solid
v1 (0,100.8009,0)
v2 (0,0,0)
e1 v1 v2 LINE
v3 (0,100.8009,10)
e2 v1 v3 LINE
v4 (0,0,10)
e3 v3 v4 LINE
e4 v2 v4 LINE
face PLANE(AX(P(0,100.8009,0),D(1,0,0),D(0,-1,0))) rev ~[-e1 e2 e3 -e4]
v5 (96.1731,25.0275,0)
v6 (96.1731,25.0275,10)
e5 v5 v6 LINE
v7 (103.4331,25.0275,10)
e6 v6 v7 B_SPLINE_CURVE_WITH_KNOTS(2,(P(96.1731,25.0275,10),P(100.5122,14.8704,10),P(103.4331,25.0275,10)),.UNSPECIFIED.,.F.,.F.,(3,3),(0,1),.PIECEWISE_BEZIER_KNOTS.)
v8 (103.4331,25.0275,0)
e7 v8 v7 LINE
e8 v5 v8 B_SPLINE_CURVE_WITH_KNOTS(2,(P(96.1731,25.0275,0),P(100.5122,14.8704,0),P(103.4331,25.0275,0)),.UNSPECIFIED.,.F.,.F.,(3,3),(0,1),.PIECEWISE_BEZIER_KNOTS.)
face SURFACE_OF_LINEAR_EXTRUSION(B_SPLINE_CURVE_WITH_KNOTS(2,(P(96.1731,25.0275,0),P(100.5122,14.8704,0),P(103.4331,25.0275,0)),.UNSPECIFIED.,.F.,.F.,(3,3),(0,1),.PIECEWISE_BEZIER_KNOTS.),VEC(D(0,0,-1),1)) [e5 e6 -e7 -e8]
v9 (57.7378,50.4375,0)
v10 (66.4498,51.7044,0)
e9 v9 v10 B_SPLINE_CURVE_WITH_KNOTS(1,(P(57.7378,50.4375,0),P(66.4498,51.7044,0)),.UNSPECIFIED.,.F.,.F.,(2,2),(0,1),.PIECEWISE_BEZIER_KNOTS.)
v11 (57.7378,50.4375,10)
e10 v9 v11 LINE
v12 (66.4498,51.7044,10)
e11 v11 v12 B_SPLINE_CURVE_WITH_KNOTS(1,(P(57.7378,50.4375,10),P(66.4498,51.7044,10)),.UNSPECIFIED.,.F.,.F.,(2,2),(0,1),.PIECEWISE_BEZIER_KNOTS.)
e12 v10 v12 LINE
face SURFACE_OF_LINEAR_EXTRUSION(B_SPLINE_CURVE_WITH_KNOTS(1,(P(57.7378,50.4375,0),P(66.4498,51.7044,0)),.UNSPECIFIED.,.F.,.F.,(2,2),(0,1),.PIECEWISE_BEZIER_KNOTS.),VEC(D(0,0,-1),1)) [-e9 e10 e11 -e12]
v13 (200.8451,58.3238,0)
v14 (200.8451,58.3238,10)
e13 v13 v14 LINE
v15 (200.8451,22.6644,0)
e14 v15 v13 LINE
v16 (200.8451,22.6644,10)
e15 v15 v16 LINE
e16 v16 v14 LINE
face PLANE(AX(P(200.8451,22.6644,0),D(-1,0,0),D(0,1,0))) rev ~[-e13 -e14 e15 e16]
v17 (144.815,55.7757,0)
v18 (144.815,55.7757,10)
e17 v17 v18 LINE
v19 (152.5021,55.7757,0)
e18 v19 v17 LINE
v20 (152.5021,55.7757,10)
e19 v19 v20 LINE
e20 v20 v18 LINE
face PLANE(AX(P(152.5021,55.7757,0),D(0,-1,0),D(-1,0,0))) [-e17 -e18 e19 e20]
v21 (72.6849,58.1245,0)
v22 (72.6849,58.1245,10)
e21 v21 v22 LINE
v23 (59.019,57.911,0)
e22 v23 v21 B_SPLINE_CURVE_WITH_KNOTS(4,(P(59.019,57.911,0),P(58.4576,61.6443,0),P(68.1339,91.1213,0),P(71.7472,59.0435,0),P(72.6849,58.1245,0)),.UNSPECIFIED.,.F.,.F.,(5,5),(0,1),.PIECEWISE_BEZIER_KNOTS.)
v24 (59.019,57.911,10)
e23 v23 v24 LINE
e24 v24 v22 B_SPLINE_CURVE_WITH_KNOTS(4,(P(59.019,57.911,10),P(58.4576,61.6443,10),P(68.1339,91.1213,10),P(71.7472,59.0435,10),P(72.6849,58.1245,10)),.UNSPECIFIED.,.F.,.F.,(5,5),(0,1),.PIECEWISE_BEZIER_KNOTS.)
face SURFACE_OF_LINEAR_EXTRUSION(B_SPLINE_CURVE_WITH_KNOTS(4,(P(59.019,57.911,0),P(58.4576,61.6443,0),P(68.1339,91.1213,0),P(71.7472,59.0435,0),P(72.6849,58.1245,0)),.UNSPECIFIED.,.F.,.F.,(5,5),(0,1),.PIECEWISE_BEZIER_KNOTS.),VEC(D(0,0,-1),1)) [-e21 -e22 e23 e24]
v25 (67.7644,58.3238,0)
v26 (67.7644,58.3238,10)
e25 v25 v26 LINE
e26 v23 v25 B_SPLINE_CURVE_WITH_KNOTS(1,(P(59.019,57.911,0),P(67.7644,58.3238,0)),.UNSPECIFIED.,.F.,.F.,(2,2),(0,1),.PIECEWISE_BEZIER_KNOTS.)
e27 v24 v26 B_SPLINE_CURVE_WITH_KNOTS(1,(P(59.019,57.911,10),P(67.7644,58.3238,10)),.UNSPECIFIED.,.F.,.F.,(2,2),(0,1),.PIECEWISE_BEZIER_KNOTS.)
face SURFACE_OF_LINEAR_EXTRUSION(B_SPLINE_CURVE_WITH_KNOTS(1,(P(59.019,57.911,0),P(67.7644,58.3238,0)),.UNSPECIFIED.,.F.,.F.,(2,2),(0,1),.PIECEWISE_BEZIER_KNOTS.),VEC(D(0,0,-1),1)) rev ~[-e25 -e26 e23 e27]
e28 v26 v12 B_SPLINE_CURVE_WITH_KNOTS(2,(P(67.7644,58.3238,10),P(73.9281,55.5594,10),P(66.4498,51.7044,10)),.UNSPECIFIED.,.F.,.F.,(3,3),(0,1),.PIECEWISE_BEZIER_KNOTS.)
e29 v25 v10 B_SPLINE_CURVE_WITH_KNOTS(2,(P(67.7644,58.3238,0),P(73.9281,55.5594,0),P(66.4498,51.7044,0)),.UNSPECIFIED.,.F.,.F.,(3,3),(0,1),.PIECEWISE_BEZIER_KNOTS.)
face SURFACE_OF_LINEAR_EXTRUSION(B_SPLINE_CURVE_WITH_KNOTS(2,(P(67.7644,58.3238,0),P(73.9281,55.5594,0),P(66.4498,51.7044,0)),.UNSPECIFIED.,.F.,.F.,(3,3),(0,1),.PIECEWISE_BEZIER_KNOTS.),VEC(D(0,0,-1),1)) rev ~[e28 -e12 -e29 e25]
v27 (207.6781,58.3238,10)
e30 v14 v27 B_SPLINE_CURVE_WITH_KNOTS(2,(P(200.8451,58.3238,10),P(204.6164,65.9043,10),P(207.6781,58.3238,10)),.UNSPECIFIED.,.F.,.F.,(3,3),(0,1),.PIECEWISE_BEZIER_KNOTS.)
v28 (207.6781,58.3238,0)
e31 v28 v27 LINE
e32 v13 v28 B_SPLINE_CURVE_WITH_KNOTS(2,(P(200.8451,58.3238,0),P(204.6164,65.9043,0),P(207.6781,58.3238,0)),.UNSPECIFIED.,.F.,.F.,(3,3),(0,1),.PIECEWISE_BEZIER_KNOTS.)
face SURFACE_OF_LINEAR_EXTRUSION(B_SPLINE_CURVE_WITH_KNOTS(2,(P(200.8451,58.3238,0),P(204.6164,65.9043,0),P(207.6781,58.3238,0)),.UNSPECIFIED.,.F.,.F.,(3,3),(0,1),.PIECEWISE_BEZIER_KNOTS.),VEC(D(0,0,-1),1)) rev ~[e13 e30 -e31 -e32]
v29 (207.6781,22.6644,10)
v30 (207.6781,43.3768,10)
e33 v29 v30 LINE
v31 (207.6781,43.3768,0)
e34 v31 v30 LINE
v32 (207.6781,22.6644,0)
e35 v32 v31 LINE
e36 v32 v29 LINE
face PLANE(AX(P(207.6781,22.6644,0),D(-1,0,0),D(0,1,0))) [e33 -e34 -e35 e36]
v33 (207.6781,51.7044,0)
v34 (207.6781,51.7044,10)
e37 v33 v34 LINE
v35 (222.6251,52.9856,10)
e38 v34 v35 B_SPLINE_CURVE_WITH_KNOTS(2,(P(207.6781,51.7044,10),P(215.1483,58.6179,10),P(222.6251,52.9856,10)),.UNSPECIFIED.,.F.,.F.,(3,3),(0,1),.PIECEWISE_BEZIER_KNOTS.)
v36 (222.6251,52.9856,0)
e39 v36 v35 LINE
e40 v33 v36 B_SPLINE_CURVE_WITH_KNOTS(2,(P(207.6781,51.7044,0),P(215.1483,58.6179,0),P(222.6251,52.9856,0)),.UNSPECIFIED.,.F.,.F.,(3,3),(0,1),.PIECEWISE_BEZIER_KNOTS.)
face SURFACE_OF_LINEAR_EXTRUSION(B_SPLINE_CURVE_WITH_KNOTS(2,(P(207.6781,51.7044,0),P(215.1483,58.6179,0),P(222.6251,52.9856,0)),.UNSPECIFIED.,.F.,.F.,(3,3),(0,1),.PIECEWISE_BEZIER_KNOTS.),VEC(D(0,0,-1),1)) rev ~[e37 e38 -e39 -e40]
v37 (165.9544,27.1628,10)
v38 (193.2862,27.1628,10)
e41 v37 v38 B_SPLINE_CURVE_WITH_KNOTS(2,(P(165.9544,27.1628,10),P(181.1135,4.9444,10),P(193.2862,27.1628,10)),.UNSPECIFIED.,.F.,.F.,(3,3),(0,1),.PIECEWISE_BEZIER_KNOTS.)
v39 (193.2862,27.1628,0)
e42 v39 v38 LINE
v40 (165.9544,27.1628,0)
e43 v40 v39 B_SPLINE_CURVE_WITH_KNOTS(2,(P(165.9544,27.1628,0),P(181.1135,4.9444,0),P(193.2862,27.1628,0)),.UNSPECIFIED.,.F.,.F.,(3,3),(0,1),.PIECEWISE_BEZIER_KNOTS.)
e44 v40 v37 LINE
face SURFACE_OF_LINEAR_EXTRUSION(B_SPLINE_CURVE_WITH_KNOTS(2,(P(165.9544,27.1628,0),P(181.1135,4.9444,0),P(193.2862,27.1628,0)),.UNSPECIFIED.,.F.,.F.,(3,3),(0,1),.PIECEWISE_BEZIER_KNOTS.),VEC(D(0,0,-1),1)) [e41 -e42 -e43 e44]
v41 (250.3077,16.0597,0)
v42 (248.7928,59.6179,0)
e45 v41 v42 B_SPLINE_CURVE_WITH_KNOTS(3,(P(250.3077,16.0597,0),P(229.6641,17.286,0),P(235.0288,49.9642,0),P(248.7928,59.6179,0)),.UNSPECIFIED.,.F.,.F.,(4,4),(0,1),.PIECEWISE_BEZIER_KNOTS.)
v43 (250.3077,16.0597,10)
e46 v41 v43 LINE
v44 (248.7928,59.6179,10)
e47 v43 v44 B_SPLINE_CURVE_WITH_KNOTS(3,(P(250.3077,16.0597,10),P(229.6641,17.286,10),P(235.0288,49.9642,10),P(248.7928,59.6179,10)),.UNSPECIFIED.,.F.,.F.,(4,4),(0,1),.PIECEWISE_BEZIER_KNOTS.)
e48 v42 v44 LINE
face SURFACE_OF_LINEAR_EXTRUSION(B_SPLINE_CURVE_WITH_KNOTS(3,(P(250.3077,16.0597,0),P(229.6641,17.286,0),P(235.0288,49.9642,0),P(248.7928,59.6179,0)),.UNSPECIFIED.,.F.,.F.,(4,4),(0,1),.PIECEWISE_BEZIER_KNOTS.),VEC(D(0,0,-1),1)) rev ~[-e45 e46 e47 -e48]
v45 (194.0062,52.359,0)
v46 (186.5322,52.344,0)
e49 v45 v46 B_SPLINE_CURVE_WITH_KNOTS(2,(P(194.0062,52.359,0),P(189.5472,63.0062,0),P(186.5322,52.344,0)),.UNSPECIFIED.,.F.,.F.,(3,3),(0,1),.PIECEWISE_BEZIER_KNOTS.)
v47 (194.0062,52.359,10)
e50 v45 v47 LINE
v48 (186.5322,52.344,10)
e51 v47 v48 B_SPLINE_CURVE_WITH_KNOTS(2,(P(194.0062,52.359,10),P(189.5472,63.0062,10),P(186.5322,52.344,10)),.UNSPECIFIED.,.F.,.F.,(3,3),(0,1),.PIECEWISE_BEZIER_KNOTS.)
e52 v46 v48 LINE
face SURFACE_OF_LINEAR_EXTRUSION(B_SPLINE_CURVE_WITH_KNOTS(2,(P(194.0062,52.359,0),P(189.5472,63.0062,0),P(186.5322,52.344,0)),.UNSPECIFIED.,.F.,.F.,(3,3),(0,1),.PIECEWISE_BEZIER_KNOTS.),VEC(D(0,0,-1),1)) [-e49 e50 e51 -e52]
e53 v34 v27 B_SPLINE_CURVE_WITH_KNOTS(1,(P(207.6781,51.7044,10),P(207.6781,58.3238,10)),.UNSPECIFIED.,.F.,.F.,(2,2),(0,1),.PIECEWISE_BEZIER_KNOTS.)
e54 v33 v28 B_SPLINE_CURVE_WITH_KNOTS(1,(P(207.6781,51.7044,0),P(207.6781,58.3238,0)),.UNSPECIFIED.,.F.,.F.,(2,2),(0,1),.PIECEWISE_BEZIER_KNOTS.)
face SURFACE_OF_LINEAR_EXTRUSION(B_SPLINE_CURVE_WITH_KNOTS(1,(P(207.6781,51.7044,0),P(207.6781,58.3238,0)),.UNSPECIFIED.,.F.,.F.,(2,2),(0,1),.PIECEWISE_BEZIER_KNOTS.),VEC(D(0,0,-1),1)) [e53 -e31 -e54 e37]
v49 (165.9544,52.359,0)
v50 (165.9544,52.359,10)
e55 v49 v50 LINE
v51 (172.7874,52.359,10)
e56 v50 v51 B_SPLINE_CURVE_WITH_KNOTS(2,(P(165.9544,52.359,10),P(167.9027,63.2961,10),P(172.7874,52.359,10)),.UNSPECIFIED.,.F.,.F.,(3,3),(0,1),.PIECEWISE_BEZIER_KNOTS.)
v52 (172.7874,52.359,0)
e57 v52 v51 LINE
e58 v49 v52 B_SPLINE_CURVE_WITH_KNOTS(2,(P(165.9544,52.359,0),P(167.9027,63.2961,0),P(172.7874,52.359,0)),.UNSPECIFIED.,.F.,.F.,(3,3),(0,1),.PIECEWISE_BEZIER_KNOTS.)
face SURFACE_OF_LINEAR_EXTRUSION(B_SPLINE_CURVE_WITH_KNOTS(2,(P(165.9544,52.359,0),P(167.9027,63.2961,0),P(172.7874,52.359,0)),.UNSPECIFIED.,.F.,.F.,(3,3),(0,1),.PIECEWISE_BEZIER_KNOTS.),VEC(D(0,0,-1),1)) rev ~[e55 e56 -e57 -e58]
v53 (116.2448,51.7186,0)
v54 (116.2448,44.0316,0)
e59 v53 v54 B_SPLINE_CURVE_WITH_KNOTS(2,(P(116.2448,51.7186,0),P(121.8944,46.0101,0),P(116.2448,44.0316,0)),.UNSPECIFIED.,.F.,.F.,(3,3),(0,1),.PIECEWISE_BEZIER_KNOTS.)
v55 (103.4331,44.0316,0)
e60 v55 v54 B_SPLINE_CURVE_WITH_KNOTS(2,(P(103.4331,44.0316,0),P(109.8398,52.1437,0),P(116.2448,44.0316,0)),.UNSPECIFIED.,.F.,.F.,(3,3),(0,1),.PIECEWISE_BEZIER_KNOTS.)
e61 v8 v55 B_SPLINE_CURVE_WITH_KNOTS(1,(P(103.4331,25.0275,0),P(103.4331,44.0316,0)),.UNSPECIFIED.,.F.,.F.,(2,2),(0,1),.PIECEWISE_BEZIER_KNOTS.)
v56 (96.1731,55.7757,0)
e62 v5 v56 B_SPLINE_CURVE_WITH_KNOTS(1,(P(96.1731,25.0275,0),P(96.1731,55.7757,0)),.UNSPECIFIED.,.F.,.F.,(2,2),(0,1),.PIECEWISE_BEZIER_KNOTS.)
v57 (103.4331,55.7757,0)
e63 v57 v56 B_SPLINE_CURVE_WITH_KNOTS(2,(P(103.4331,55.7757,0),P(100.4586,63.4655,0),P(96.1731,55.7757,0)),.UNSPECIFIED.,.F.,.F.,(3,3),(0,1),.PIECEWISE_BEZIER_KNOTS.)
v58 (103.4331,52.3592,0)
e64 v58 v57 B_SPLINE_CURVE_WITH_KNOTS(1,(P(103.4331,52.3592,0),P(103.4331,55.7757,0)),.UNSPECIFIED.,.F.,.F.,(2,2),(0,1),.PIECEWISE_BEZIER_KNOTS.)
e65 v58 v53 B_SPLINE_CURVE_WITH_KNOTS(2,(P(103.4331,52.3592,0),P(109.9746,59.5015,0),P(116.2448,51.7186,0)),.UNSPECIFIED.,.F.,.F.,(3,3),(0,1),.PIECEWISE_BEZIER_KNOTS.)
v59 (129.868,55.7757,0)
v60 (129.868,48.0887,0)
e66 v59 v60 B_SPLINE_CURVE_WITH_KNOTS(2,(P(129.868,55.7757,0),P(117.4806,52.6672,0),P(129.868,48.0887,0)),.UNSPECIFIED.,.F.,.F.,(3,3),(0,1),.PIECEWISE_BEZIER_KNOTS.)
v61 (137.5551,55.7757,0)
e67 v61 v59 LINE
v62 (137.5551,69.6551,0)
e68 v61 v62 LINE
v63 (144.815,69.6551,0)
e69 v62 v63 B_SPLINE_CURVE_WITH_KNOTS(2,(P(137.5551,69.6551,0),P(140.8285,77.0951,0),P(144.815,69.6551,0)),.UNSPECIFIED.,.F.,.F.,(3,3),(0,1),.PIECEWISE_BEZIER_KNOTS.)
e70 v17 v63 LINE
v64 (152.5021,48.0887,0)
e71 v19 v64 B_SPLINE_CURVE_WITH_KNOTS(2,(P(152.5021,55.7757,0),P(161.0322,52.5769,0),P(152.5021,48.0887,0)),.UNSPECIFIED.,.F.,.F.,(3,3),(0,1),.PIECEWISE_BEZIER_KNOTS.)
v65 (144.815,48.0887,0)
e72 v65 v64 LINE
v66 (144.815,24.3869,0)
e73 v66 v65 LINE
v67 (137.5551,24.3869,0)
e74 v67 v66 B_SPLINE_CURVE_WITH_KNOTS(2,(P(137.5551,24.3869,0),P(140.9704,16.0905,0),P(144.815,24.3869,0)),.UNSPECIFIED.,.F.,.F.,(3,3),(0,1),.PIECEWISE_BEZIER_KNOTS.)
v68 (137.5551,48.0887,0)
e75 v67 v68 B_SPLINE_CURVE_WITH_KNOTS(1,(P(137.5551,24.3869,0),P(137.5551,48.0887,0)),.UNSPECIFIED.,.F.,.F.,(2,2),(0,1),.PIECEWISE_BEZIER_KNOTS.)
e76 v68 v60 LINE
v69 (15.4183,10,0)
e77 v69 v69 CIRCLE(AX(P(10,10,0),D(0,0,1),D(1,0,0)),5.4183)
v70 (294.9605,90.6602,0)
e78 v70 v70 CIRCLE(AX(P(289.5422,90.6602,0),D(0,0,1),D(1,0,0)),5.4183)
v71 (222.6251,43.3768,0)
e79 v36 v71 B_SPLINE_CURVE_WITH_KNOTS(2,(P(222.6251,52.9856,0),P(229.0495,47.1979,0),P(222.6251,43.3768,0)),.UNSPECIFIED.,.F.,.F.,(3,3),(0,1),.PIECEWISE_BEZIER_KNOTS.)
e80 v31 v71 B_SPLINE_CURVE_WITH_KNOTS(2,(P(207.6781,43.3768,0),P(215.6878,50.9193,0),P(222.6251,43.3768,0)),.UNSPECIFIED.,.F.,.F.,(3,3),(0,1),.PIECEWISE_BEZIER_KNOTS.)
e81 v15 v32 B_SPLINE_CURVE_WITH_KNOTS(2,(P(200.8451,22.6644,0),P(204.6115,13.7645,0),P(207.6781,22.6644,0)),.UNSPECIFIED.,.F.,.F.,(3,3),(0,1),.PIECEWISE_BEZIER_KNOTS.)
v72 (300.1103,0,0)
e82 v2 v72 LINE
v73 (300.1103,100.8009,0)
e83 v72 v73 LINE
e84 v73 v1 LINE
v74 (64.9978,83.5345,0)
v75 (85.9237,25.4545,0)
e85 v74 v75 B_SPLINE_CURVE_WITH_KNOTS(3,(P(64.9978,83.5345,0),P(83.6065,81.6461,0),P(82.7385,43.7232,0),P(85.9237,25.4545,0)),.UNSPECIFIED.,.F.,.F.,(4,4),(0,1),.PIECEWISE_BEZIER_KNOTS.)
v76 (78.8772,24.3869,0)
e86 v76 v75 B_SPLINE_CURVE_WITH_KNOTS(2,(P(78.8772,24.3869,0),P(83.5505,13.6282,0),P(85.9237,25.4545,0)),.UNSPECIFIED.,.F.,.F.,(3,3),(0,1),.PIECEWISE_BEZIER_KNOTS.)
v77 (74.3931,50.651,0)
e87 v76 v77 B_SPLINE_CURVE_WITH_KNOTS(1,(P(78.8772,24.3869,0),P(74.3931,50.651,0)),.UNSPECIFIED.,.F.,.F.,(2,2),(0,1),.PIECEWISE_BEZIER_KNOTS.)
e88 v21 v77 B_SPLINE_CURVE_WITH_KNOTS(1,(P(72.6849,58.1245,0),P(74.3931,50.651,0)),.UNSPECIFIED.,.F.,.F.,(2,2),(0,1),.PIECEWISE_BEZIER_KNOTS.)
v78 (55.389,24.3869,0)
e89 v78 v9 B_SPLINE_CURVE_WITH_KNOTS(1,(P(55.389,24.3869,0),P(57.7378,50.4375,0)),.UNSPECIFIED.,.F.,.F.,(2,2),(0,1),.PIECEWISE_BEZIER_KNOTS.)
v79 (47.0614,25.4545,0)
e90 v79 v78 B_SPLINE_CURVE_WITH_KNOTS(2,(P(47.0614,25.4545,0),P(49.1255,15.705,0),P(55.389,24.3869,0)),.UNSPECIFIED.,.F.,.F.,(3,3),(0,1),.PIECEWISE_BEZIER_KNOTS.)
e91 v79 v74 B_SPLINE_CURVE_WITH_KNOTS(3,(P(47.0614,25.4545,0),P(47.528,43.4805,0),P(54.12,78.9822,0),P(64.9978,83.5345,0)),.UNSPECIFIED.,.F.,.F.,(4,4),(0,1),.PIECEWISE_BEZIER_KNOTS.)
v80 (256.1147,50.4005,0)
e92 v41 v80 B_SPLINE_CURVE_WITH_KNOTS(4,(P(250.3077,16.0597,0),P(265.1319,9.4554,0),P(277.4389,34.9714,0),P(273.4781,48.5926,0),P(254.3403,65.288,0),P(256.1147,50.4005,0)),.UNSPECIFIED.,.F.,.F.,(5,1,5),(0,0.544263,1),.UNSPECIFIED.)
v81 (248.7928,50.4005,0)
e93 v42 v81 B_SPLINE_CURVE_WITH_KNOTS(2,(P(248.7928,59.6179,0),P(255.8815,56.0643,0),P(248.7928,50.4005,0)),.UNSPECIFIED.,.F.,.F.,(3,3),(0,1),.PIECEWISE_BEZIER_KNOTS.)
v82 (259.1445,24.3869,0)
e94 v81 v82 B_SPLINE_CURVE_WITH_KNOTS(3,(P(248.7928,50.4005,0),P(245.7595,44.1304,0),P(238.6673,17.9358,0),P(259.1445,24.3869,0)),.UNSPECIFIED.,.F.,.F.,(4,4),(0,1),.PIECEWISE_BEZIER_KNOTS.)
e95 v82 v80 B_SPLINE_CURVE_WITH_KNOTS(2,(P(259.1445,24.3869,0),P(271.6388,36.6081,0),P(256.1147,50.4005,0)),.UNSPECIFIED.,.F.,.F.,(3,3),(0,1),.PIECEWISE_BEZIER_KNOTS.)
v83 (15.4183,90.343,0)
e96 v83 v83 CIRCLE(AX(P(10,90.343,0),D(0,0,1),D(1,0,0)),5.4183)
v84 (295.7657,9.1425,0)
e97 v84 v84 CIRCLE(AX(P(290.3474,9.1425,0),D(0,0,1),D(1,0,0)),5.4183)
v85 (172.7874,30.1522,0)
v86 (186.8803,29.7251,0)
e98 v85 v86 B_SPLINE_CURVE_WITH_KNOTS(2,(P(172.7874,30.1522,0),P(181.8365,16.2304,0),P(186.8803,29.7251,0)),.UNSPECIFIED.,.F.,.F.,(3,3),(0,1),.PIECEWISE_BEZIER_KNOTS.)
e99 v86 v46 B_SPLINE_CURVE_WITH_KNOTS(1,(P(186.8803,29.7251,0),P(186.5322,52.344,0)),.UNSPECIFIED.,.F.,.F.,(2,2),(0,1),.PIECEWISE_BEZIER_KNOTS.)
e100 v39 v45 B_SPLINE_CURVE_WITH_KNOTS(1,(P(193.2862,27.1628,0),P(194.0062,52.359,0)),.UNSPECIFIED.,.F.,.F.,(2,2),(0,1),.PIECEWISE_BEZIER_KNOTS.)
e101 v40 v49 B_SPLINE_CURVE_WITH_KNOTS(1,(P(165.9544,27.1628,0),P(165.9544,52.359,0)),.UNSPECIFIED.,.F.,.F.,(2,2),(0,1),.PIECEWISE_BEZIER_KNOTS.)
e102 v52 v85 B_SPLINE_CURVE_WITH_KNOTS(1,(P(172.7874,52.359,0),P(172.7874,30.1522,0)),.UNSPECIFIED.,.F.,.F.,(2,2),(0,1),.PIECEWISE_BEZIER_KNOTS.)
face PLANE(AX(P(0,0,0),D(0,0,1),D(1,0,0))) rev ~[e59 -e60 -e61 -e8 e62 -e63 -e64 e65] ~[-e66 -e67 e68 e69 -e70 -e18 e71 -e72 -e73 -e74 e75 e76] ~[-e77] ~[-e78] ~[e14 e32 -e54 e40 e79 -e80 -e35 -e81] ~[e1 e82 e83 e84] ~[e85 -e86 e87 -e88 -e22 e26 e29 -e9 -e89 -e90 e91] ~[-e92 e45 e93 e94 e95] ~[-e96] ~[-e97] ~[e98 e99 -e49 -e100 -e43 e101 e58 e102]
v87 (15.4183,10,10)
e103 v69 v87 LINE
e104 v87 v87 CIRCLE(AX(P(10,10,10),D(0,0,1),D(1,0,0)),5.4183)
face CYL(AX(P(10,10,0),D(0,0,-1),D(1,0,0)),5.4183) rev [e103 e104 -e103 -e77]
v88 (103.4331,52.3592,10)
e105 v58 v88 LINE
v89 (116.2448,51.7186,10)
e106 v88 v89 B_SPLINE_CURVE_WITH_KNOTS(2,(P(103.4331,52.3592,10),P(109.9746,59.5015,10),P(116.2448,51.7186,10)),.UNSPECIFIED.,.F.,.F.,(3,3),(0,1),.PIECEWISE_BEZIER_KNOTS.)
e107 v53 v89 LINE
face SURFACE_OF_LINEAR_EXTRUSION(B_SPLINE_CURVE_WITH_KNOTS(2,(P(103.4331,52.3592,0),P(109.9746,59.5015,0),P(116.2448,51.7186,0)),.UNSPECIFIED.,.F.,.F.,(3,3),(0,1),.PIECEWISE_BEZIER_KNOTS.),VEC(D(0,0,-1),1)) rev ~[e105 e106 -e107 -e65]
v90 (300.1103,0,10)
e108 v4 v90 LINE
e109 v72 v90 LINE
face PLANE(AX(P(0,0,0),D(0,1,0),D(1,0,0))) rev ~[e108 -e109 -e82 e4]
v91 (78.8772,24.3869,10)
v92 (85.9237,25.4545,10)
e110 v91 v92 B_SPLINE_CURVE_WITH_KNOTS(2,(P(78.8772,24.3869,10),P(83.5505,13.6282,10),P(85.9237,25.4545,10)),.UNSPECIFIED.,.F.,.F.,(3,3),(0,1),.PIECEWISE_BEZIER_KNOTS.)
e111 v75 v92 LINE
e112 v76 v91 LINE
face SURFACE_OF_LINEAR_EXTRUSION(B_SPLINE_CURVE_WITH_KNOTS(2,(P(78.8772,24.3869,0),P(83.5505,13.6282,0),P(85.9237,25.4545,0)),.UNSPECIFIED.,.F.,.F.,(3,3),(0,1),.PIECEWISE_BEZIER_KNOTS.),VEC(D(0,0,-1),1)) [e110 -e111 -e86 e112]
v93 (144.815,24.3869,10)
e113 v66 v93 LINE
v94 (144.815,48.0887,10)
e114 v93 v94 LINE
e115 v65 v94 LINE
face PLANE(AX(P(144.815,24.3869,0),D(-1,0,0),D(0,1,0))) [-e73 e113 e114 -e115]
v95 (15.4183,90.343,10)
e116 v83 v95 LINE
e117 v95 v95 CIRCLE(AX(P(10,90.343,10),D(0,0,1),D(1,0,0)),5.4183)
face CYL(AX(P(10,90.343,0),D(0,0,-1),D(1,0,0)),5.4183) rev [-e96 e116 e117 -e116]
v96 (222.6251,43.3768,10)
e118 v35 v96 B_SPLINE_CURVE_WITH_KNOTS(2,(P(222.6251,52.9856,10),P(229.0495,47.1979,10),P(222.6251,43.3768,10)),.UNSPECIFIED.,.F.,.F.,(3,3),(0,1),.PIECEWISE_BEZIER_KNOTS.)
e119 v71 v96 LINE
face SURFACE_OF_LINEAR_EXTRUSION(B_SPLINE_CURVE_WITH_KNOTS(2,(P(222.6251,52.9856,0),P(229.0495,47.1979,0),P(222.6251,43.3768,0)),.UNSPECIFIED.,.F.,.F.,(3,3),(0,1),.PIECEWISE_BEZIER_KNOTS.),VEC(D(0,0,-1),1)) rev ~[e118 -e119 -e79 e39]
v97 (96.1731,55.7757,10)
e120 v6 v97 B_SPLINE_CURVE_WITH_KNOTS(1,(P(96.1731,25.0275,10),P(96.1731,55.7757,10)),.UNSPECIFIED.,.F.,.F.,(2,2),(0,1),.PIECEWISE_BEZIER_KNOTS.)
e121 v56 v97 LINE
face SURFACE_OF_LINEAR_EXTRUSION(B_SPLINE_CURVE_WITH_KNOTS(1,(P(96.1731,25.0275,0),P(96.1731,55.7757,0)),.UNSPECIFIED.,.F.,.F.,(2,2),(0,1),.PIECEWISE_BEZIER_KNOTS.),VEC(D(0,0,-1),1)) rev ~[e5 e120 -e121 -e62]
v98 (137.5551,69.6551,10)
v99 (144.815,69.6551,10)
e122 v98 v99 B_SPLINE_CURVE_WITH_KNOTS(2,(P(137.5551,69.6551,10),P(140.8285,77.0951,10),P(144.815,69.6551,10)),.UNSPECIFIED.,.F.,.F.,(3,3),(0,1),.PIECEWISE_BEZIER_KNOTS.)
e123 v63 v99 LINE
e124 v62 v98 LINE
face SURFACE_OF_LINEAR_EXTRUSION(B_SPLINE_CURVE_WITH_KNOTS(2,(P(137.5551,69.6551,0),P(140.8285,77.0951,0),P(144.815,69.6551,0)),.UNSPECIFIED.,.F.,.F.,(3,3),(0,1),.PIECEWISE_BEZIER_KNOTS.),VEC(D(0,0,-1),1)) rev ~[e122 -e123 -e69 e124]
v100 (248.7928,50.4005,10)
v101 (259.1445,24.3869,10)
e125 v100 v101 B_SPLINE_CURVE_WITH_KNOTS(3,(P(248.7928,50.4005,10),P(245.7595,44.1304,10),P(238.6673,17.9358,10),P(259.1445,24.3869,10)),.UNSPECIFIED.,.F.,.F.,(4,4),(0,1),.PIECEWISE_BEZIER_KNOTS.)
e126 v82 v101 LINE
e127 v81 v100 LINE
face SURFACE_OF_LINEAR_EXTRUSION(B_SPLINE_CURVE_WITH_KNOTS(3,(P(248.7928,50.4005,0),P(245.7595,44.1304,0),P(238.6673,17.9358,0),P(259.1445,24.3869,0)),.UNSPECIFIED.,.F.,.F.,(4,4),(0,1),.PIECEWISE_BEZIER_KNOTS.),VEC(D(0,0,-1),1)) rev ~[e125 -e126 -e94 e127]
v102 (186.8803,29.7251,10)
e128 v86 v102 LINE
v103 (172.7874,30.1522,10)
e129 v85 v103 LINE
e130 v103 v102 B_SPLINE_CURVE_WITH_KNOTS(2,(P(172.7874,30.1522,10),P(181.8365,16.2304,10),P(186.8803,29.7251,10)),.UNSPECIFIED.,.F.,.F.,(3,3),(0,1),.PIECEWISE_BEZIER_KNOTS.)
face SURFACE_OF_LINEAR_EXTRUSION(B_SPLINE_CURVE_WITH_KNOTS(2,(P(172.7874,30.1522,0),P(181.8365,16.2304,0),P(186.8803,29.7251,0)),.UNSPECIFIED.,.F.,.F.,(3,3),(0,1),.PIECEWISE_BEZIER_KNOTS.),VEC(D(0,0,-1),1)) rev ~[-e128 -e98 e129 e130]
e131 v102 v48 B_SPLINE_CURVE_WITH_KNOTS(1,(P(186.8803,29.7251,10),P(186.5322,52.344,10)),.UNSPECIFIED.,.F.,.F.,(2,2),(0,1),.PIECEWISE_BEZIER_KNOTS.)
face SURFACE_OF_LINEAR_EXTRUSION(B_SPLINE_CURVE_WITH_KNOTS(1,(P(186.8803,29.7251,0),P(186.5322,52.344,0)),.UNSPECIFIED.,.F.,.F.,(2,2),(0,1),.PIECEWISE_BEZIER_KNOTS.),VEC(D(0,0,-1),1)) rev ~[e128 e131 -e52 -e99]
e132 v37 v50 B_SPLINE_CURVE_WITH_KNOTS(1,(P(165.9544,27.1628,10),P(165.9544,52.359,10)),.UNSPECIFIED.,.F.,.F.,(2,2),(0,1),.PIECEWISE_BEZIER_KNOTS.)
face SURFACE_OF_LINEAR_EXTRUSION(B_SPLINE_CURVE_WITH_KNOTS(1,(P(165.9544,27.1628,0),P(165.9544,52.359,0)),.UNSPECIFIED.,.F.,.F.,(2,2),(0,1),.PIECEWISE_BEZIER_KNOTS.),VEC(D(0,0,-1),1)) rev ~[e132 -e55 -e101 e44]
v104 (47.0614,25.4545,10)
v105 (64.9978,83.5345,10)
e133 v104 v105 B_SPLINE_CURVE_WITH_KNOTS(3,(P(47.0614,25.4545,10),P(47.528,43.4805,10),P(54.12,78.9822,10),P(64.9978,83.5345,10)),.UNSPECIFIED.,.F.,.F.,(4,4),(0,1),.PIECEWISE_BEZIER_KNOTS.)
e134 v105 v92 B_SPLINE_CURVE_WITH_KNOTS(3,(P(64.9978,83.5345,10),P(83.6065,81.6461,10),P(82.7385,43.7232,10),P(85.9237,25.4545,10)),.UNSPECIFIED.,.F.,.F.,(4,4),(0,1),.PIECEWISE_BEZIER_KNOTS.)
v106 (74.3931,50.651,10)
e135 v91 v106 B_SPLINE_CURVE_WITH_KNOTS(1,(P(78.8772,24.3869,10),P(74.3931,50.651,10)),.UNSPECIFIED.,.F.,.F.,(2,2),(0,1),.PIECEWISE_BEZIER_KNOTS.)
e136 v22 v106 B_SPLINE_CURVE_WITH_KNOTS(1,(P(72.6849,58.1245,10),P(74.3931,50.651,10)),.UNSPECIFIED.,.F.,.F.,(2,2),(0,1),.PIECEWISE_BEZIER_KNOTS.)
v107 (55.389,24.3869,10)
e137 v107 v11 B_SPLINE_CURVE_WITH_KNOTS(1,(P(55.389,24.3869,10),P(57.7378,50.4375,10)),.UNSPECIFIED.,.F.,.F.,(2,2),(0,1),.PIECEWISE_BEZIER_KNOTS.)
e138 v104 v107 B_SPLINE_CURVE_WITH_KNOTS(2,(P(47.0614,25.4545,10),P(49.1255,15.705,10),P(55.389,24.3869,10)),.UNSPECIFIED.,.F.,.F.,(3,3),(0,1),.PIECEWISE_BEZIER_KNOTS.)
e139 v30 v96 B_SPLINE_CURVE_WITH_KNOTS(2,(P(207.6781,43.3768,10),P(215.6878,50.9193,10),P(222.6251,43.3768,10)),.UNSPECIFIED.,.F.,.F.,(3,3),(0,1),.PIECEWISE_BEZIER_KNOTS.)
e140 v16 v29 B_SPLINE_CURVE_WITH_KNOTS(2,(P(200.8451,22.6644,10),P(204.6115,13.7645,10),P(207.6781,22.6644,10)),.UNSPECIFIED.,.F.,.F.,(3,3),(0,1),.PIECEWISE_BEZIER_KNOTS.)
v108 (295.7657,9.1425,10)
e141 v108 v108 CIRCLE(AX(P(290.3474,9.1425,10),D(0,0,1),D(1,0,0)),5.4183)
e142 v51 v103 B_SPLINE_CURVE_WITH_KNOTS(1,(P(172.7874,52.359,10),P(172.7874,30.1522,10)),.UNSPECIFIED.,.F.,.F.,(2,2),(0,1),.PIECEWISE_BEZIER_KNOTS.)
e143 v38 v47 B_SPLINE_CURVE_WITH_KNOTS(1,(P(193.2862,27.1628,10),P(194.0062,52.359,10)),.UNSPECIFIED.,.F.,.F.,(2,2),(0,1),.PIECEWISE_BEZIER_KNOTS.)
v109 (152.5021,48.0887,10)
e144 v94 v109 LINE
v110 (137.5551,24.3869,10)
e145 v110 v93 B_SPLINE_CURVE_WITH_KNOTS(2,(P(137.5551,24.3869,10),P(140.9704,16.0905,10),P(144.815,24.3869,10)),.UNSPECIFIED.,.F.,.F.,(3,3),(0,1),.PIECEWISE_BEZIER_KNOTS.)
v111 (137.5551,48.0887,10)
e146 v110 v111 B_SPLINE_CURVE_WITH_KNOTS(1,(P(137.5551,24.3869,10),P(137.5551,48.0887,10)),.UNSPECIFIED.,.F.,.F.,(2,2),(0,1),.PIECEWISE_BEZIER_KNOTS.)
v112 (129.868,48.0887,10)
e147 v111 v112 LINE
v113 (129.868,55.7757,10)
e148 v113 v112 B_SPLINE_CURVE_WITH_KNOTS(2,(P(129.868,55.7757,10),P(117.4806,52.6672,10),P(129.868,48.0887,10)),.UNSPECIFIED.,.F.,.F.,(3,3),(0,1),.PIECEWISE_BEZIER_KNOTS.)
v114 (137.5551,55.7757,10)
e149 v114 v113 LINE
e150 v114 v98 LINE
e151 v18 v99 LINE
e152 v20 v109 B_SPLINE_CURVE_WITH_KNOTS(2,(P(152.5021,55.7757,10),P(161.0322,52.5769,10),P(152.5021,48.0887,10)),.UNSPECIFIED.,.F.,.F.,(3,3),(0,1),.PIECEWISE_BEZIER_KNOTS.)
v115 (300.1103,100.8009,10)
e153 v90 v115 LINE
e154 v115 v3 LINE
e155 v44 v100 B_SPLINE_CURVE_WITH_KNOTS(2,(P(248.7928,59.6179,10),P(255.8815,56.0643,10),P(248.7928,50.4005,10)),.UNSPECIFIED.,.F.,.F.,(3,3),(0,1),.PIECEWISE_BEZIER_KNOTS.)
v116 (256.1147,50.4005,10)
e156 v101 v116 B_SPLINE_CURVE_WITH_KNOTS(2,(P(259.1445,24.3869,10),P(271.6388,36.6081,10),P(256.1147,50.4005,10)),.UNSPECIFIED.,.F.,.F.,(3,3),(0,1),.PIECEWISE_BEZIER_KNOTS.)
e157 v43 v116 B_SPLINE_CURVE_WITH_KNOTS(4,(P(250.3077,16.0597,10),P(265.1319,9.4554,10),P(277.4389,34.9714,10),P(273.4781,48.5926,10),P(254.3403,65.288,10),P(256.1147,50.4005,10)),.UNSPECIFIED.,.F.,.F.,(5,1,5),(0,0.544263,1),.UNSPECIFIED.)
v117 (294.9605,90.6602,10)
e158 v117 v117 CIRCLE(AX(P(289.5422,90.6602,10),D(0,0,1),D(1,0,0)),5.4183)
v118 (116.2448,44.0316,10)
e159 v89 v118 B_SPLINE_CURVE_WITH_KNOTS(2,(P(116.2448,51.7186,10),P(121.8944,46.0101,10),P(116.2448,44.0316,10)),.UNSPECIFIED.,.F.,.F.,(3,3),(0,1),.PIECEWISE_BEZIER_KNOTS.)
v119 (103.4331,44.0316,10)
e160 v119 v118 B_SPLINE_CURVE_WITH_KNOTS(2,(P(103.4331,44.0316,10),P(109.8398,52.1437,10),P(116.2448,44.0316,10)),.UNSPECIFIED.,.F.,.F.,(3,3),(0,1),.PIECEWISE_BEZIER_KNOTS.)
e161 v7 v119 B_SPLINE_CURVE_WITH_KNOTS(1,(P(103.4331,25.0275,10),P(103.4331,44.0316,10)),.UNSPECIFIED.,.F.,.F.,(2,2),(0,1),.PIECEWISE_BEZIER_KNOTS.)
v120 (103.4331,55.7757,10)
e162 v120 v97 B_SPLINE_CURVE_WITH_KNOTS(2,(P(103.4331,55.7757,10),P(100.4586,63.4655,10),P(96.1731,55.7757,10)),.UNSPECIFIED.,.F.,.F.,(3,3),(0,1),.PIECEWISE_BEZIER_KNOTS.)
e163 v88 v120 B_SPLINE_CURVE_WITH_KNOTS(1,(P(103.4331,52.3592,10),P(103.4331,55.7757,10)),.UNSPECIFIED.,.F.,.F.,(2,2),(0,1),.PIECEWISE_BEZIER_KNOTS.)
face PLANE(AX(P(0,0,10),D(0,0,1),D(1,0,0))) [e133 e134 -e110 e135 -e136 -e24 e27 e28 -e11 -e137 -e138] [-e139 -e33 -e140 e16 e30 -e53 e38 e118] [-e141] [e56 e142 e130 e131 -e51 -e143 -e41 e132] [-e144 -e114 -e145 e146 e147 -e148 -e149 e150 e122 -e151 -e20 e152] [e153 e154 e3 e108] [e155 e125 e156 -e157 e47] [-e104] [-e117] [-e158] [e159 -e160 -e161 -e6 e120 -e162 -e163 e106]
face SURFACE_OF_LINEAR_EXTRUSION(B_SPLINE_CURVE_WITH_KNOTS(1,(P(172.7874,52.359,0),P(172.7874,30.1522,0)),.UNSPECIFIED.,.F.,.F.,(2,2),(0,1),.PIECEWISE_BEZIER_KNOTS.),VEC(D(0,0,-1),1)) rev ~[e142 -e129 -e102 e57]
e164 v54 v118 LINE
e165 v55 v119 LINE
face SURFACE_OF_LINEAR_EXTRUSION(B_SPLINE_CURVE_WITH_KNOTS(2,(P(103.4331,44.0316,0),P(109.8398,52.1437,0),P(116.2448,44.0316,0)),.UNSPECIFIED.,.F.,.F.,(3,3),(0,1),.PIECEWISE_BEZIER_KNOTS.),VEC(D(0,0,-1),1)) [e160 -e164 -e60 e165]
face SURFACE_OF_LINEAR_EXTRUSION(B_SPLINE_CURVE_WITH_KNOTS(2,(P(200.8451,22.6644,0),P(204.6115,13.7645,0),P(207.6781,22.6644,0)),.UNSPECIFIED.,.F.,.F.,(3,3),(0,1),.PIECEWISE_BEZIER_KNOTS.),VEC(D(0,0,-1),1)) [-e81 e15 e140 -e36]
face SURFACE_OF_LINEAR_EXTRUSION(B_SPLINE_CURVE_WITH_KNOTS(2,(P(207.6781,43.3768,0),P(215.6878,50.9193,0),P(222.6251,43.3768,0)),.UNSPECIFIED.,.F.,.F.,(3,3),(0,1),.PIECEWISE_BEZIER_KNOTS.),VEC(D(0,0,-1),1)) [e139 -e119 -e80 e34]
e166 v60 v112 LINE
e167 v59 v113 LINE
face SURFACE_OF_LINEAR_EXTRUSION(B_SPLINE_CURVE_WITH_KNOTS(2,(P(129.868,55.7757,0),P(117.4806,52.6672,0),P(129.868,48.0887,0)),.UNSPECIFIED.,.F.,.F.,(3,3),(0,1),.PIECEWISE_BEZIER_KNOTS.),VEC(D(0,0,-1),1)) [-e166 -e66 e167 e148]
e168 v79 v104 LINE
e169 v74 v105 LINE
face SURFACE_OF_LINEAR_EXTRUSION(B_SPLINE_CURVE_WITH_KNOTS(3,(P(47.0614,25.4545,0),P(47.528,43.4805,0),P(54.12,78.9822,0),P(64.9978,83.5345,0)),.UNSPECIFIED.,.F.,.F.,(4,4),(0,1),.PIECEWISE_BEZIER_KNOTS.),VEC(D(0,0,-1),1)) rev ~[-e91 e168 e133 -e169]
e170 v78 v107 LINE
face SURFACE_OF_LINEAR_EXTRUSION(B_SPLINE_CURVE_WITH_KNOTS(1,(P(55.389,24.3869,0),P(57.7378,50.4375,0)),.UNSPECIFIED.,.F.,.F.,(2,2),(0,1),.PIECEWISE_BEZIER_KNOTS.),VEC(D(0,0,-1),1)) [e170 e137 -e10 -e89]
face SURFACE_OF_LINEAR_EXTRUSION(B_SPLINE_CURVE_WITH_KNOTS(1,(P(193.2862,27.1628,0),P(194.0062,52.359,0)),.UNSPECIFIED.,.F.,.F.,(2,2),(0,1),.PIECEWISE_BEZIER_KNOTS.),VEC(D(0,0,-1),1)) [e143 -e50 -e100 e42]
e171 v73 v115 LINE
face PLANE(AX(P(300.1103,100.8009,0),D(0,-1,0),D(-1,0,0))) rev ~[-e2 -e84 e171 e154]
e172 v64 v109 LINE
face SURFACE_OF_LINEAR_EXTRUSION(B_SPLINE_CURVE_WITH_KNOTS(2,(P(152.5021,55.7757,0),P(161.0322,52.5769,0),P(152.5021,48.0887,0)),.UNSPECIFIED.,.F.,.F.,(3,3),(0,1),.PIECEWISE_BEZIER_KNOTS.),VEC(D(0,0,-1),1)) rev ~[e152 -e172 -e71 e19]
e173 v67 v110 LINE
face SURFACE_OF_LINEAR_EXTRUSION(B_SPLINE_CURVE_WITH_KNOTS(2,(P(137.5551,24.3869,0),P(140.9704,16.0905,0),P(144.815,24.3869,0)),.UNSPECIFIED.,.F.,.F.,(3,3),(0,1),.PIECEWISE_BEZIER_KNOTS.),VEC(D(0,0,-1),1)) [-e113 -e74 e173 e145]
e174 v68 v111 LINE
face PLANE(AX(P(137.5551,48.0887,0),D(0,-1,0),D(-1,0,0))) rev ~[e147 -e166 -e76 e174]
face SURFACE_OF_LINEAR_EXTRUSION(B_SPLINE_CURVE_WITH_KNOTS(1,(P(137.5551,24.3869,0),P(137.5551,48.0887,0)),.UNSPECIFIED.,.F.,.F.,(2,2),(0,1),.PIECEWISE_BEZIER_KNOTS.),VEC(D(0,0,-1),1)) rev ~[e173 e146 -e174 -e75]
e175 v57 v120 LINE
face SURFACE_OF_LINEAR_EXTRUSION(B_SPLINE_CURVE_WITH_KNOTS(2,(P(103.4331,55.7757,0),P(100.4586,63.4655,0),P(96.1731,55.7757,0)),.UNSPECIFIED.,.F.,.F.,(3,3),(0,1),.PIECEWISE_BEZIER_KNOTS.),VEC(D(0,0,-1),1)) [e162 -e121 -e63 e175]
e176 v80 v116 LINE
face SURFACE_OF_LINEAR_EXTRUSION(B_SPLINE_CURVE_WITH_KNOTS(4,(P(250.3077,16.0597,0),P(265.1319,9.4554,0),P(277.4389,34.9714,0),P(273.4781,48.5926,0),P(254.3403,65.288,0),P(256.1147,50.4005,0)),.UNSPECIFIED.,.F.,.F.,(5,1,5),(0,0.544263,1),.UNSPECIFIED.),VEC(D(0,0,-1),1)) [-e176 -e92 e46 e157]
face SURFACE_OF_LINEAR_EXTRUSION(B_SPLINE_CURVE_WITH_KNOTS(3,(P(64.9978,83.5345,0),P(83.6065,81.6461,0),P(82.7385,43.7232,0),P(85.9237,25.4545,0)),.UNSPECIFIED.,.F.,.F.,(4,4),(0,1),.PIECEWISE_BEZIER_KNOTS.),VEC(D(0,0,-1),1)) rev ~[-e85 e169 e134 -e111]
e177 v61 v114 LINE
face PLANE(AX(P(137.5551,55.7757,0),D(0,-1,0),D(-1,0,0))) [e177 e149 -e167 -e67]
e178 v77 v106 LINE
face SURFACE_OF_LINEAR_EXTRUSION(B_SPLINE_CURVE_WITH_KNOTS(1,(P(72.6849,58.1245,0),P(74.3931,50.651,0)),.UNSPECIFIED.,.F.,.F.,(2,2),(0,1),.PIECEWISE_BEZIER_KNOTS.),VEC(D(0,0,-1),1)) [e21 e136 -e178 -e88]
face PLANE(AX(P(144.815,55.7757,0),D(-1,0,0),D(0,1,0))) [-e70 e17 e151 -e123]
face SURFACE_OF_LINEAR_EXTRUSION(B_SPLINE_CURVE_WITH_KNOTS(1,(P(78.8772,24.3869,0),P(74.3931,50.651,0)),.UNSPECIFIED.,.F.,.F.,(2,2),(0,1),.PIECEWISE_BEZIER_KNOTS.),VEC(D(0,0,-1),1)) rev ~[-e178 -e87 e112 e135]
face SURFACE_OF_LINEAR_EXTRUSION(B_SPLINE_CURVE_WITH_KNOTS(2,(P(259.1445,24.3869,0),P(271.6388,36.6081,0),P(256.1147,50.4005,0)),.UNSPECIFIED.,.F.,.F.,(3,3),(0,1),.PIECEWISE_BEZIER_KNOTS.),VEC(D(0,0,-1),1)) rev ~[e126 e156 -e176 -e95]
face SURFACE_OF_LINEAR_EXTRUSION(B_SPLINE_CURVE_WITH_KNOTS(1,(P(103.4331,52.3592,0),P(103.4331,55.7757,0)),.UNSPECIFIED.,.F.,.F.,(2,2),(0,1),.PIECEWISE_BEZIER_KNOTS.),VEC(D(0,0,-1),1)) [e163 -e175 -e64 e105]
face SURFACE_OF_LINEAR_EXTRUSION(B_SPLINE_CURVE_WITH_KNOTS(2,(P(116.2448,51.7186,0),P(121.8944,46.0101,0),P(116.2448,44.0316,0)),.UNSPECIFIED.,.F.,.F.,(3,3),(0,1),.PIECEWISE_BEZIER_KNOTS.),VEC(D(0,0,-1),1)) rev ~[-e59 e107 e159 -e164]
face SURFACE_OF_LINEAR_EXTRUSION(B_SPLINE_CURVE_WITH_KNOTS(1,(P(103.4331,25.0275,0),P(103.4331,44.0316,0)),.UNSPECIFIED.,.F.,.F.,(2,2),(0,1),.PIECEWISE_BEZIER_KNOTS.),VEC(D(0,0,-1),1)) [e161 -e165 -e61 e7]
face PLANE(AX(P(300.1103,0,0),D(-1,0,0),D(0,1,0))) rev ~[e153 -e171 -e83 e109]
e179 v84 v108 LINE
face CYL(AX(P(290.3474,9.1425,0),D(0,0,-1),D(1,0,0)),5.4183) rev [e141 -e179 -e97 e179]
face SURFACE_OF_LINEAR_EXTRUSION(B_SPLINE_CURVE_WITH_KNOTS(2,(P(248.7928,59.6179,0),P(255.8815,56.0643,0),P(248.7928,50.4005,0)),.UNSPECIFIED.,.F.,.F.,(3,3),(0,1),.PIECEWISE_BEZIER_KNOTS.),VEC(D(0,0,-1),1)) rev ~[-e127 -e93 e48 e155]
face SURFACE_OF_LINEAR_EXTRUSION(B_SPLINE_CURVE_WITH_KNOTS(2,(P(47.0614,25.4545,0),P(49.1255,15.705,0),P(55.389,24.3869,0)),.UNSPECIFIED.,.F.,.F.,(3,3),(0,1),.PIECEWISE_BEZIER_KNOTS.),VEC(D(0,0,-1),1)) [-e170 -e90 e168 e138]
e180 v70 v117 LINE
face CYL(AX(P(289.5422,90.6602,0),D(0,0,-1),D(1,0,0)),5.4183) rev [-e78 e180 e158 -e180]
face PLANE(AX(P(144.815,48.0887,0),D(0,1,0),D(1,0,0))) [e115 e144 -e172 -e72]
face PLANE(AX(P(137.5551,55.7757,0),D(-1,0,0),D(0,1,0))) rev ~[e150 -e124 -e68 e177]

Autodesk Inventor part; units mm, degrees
ref_plane "YZ Plane" through (0, 0, 0) normal (1, 0, 0) x (0, 1, 0)
ref_plane "XZ Plane" through (0, 0, 0) normal (0, 1, 0) x (-1, 0, 0)
ref_plane "XY Plane" through (0, 0, 0) normal (0, 0, 1) x (1, 0, 0)
sketch "Sketch2" plane through (0, 0, 0) normal (0, 0, 1) x (1, 0, 0)
  line L0 (0, 0) -> (300.1103, 0)
  line L1 (300.1103, 0) -> (300.1103, 100.8009)
  line L2 (300.1103, 100.8009) -> (0, 100.8009)
  line L3 (0, 100.8009) -> (0, 0)
  circle A0 centre (10, 90.343) radius 5.4183
  circle A1 centre (10, 10) radius 5.4183
  circle A2 centre (289.5422, 90.6602) radius 5.4183
  circle A3 centre (290.3474, 9.1425) radius 5.4183
  spline S0 degree 3 poles (47.0614, 25.4545) (47.528, 43.4805) (54.12, 78.9822) (64.9978, 83.5345) knots 0 0 0 0 1 1 1 1
  spline S1 degree 3 poles (64.9978, 83.5345) (83.6065, 81.6461) (82.7385, 43.7232) (85.9237, 25.4545) knots 0 0 0 0 1 1 1 1
  spline S2 degree 1 poles (55.389, 24.3869) (57.7378, 50.4375) knots 0 0 1 1
  spline S3 degree 2 poles (47.0614, 25.4545) (49.1255, 15.705) (55.389, 24.3869) knots 0 0 0 1 1 1
  spline S4 degree 1 poles (78.8772, 24.3869) (74.3931, 50.651) knots 0 0 1 1
  spline S5 degree 2 poles (78.8772, 24.3869) (83.5505, 13.6282) (85.9237, 25.4545) knots 0 0 0 1 1 1
  spline S6 degree 4 poles (59.019, 57.911) (58.4576, 61.6443) (68.1339, 91.1213) (71.7472, 59.0435) (72.6849, 58.1245) knots 0 0 0 0 0 1 1 1 1 1
  spline S7 degree 1 poles (96.1731, 25.0275) (96.1731, 55.7757) knots 0 0 1 1
  spline S8 degree 1 poles (103.4331, 25.0275) (103.4331, 44.0316) knots 0 0 1 1
  spline S9 degree 2 poles (103.4331, 44.0316) (109.8398, 52.1437) (116.2448, 44.0316) knots 0 0 0 1 1 1
  spline S10 degree 2 poles (103.4331, 52.3592) (109.9746, 59.5015) (116.2448, 51.7186) knots 0 0 0 1 1 1
  spline S11 degree 1 poles (103.4331, 52.3592) (103.4331, 55.7757) knots 0 0 1 1
  spline S12 degree 2 poles (103.4331, 55.7757) (100.4586, 63.4655) (96.1731, 55.7757) knots 0 0 0 1 1 1
  spline S13 degree 2 poles (116.2448, 51.7186) (121.8944, 46.0101) (116.2448, 44.0316) knots 0 0 0 1 1 1
  spline S14 degree 2 poles (96.1731, 25.0275) (100.5122, 14.8704) (103.4331, 25.0275) knots 0 0 0 1 1 1
  spline S15 degree 1 poles (137.5551, 24.3869) (137.5551, 48.0887) knots 0 0 1 1
  line L4 (144.815, 24.3869) -> (144.815, 48.0887)
  line L5 (144.815, 48.0887) -> (152.5021, 48.0887)
  line L6 (137.5551, 48.0887) -> (129.868, 48.0887)
  line L7 (137.5551, 55.7757) -> (129.868, 55.7757)
  line L8 (152.5021, 55.7757) -> (144.815, 55.7757)
  line L9 (144.815, 55.7757) -> (144.815, 69.6551)
  line L10 (137.5551, 55.7757) -> (137.5551, 69.6551)
  spline S16 degree 2 poles (137.5551, 24.3869) (140.9704, 16.0905) (144.815, 24.3869) knots 0 0 0 1 1 1
  spline S17 degree 2 poles (137.5551, 69.6551) (140.8285, 77.0951) (144.815, 69.6551) knots 0 0 0 1 1 1
  spline S18 degree 2 poles (152.5021, 55.7757) (161.0322, 52.5769) (152.5021, 48.0887) knots 0 0 0 1 1 1
  spline S19 degree 2 poles (129.868, 55.7757) (117.4806, 52.6672) (129.868, 48.0887) knots 0 0 0 1 1 1
  spline S20 degree 2 poles (165.9544, 27.1628) (181.1135, 4.9444) (193.2862, 27.1628) knots 0 0 0 1 1 1
  spline S21 degree 1 poles (165.9544, 27.1628) (165.9544, 52.359) knots 0 0 1 1
  spline S22 degree 1 poles (172.7874, 52.359) (172.7874, 30.1522) knots 0 0 1 1
  spline S23 degree 2 poles (172.7874, 30.1522) (181.8365, 16.2304) (186.8803, 29.7251) knots 0 0 0 1 1 1
  spline S24 degree 1 poles (186.8803, 29.7251) (186.5322, 52.344) knots 0 0 1 1
  spline S25 degree 1 poles (193.2862, 27.1628) (194.0062, 52.359) knots 0 0 1 1
  spline S26 degree 2 poles (165.9544, 52.359) (167.9027, 63.2961) (172.7874, 52.359) knots 0 0 0 1 1 1
  spline S27 degree 2 poles (194.0062, 52.359) (189.5472, 63.0062) (186.5322, 52.344) knots 0 0 0 1 1 1
  line L11 (200.8451, 22.6644) -> (200.8451, 58.3238)
  line L12 (207.6781, 22.6644) -> (207.6781, 43.3768)
  spline S28 degree 2 poles (200.8451, 22.6644) (204.6115, 13.7645) (207.6781, 22.6644) knots 0 0 0 1 1 1
  spline S29 degree 2 poles (207.6781, 43.3768) (215.6878, 50.9193) (222.6251, 43.3768) knots 0 0 0 1 1 1
  spline S30 degree 2 poles (207.6781, 51.7044) (215.1483, 58.6179) (222.6251, 52.9856) knots 0 0 0 1 1 1
  spline S31 degree 1 poles (207.6781, 51.7044) (207.6781, 58.3238) knots 0 0 1 1
  spline S32 degree 2 poles (200.8451, 58.3238) (204.6164, 65.9043) (207.6781, 58.3238) knots 0 0 0 1 1 1
  spline S33 degree 2 poles (222.6251, 52.9856) (229.0495, 47.1979) (222.6251, 43.3768) knots 0 0 0 1 1 1
  spline S34 degree 1 poles (59.019, 57.911) (67.7644, 58.3238) knots 0 0 1 1
  spline S35 degree 1 poles (57.7378, 50.4375) (66.4498, 51.7044) knots 0 0 1 1
  spline S36 degree 1 poles (72.6849, 58.1245) (74.3931, 50.651) knots 0 0 1 1
  spline S37 degree 2 poles (67.7644, 58.3238) (73.9281, 55.5594) (66.4498, 51.7044) knots 0 0 0 1 1 1
  spline S38 degree 3 poles (250.3077, 16.0597) (229.6641, 17.286) (235.0288, 49.9642) (248.7928, 59.6179) knots 0 0 0 0 1 1 1 1
  spline S39 degree 4 poles (250.3077, 16.0597) (265.1319, 9.4554) (277.4389, 34.9714) (273.4781, 48.5926) (254.3403, 65.288) (256.1147, 50.4005) knots 0 0 0 0 0 0.544263 1 1 1 1 1
  spline S40 degree 3 poles (248.7928, 50.4005) (245.7595, 44.1304) (238.6673, 17.9358) (259.1445, 24.3869) knots 0 0 0 0 1 1 1 1
  spline S41 degree 2 poles (259.1445, 24.3869) (271.6388, 36.6081) (256.1147, 50.4005) knots 0 0 0 1 1 1
  spline S42 degree 2 poles (248.7928, 59.6179) (255.8815, 56.0643) (248.7928, 50.4005) knots 0 0 0 1 1 1
  point P0 (50.0508, 50.4375)
  point P1 (57.7364, 75.2009)
  point P2 (76.3178, 75.1435)
  point P3 (82.9341, 50.4375)
  point P4 (50.0483, 20.3336)
  point P5 (82.9302, 19.2685)
  point P6 (62.1793, 68.1604)
  point P7 (66.4499, 71.5768)
  point P8 (70.5496, 65.8115)
  point P9 (109.8396, 48.0876)
  point P10 (109.8361, 55.7733)
  point P11 (100.2313, 59.6176)
  point P12 (119.033, 46.517)
  point P13 (100.2294, 19.9509)
  point P14 (141.048, 20.239)
  point P15 (140.9494, 73.3742)
  point P16 (156.7647, 52.3472)
  point P17 (123.6758, 52.3588)
  point P18 (180.6877, 16.0597)
  point P19 (181.2472, 23.0958)
  point P20 (168.5193, 57.821)
  point P21 (189.8394, 57.6769)
  point P22 (204.4763, 18.215)
  point P23 (215.5971, 47.1459)
  point P24 (215.3469, 55.4961)
  point P25 (204.4901, 62.1132)
  point P26 (225.828, 47.4324)
  point P27 (70.5492, 55.5893)
  point P28 (238.1887, 24.3868)
  point P29 (238.1887, 43.3767)
  point P30 (267.4763, 20.3332)
  point P31 (272.021, 36.2378)
  point P32 (267.4763, 50.4005)
  point P33 (259.1445, 58.3238)
  point P34 (245.763, 40.4941)
  point P35 (246.5206, 27.1626)
  point P36 (264.6991, 36.2378)
  point P37 (252.3275, 55.7757)
  dimension "d0" = 100.8009
  dimension "d1" = 300.1103
  dimension "d3" = 10.8366
  dimension "d4" = 10.8366
  dimension "d5" = 10.8366
  dimension "d6" = 10.8366
  dimension "d26" = 7.6871
  dimension "d27" = 8.541
  dimension "d28" = 8.3276
  dimension "d29" = 7.26
  dimension "d30" = 7.474
  dimension "d31" = 6.8329
  dimension "d32" = 7.26
  dimension "d33" = 8.3276
  dimension "d34" = 6.8329
extrude "Plate5" add sketch "Sketch2" along normal blind 10
equation "\"BendReliefDepth\" = 0.5 * Thickness"
equation "\"Thickness\" = 10"
properties part number "Name"
